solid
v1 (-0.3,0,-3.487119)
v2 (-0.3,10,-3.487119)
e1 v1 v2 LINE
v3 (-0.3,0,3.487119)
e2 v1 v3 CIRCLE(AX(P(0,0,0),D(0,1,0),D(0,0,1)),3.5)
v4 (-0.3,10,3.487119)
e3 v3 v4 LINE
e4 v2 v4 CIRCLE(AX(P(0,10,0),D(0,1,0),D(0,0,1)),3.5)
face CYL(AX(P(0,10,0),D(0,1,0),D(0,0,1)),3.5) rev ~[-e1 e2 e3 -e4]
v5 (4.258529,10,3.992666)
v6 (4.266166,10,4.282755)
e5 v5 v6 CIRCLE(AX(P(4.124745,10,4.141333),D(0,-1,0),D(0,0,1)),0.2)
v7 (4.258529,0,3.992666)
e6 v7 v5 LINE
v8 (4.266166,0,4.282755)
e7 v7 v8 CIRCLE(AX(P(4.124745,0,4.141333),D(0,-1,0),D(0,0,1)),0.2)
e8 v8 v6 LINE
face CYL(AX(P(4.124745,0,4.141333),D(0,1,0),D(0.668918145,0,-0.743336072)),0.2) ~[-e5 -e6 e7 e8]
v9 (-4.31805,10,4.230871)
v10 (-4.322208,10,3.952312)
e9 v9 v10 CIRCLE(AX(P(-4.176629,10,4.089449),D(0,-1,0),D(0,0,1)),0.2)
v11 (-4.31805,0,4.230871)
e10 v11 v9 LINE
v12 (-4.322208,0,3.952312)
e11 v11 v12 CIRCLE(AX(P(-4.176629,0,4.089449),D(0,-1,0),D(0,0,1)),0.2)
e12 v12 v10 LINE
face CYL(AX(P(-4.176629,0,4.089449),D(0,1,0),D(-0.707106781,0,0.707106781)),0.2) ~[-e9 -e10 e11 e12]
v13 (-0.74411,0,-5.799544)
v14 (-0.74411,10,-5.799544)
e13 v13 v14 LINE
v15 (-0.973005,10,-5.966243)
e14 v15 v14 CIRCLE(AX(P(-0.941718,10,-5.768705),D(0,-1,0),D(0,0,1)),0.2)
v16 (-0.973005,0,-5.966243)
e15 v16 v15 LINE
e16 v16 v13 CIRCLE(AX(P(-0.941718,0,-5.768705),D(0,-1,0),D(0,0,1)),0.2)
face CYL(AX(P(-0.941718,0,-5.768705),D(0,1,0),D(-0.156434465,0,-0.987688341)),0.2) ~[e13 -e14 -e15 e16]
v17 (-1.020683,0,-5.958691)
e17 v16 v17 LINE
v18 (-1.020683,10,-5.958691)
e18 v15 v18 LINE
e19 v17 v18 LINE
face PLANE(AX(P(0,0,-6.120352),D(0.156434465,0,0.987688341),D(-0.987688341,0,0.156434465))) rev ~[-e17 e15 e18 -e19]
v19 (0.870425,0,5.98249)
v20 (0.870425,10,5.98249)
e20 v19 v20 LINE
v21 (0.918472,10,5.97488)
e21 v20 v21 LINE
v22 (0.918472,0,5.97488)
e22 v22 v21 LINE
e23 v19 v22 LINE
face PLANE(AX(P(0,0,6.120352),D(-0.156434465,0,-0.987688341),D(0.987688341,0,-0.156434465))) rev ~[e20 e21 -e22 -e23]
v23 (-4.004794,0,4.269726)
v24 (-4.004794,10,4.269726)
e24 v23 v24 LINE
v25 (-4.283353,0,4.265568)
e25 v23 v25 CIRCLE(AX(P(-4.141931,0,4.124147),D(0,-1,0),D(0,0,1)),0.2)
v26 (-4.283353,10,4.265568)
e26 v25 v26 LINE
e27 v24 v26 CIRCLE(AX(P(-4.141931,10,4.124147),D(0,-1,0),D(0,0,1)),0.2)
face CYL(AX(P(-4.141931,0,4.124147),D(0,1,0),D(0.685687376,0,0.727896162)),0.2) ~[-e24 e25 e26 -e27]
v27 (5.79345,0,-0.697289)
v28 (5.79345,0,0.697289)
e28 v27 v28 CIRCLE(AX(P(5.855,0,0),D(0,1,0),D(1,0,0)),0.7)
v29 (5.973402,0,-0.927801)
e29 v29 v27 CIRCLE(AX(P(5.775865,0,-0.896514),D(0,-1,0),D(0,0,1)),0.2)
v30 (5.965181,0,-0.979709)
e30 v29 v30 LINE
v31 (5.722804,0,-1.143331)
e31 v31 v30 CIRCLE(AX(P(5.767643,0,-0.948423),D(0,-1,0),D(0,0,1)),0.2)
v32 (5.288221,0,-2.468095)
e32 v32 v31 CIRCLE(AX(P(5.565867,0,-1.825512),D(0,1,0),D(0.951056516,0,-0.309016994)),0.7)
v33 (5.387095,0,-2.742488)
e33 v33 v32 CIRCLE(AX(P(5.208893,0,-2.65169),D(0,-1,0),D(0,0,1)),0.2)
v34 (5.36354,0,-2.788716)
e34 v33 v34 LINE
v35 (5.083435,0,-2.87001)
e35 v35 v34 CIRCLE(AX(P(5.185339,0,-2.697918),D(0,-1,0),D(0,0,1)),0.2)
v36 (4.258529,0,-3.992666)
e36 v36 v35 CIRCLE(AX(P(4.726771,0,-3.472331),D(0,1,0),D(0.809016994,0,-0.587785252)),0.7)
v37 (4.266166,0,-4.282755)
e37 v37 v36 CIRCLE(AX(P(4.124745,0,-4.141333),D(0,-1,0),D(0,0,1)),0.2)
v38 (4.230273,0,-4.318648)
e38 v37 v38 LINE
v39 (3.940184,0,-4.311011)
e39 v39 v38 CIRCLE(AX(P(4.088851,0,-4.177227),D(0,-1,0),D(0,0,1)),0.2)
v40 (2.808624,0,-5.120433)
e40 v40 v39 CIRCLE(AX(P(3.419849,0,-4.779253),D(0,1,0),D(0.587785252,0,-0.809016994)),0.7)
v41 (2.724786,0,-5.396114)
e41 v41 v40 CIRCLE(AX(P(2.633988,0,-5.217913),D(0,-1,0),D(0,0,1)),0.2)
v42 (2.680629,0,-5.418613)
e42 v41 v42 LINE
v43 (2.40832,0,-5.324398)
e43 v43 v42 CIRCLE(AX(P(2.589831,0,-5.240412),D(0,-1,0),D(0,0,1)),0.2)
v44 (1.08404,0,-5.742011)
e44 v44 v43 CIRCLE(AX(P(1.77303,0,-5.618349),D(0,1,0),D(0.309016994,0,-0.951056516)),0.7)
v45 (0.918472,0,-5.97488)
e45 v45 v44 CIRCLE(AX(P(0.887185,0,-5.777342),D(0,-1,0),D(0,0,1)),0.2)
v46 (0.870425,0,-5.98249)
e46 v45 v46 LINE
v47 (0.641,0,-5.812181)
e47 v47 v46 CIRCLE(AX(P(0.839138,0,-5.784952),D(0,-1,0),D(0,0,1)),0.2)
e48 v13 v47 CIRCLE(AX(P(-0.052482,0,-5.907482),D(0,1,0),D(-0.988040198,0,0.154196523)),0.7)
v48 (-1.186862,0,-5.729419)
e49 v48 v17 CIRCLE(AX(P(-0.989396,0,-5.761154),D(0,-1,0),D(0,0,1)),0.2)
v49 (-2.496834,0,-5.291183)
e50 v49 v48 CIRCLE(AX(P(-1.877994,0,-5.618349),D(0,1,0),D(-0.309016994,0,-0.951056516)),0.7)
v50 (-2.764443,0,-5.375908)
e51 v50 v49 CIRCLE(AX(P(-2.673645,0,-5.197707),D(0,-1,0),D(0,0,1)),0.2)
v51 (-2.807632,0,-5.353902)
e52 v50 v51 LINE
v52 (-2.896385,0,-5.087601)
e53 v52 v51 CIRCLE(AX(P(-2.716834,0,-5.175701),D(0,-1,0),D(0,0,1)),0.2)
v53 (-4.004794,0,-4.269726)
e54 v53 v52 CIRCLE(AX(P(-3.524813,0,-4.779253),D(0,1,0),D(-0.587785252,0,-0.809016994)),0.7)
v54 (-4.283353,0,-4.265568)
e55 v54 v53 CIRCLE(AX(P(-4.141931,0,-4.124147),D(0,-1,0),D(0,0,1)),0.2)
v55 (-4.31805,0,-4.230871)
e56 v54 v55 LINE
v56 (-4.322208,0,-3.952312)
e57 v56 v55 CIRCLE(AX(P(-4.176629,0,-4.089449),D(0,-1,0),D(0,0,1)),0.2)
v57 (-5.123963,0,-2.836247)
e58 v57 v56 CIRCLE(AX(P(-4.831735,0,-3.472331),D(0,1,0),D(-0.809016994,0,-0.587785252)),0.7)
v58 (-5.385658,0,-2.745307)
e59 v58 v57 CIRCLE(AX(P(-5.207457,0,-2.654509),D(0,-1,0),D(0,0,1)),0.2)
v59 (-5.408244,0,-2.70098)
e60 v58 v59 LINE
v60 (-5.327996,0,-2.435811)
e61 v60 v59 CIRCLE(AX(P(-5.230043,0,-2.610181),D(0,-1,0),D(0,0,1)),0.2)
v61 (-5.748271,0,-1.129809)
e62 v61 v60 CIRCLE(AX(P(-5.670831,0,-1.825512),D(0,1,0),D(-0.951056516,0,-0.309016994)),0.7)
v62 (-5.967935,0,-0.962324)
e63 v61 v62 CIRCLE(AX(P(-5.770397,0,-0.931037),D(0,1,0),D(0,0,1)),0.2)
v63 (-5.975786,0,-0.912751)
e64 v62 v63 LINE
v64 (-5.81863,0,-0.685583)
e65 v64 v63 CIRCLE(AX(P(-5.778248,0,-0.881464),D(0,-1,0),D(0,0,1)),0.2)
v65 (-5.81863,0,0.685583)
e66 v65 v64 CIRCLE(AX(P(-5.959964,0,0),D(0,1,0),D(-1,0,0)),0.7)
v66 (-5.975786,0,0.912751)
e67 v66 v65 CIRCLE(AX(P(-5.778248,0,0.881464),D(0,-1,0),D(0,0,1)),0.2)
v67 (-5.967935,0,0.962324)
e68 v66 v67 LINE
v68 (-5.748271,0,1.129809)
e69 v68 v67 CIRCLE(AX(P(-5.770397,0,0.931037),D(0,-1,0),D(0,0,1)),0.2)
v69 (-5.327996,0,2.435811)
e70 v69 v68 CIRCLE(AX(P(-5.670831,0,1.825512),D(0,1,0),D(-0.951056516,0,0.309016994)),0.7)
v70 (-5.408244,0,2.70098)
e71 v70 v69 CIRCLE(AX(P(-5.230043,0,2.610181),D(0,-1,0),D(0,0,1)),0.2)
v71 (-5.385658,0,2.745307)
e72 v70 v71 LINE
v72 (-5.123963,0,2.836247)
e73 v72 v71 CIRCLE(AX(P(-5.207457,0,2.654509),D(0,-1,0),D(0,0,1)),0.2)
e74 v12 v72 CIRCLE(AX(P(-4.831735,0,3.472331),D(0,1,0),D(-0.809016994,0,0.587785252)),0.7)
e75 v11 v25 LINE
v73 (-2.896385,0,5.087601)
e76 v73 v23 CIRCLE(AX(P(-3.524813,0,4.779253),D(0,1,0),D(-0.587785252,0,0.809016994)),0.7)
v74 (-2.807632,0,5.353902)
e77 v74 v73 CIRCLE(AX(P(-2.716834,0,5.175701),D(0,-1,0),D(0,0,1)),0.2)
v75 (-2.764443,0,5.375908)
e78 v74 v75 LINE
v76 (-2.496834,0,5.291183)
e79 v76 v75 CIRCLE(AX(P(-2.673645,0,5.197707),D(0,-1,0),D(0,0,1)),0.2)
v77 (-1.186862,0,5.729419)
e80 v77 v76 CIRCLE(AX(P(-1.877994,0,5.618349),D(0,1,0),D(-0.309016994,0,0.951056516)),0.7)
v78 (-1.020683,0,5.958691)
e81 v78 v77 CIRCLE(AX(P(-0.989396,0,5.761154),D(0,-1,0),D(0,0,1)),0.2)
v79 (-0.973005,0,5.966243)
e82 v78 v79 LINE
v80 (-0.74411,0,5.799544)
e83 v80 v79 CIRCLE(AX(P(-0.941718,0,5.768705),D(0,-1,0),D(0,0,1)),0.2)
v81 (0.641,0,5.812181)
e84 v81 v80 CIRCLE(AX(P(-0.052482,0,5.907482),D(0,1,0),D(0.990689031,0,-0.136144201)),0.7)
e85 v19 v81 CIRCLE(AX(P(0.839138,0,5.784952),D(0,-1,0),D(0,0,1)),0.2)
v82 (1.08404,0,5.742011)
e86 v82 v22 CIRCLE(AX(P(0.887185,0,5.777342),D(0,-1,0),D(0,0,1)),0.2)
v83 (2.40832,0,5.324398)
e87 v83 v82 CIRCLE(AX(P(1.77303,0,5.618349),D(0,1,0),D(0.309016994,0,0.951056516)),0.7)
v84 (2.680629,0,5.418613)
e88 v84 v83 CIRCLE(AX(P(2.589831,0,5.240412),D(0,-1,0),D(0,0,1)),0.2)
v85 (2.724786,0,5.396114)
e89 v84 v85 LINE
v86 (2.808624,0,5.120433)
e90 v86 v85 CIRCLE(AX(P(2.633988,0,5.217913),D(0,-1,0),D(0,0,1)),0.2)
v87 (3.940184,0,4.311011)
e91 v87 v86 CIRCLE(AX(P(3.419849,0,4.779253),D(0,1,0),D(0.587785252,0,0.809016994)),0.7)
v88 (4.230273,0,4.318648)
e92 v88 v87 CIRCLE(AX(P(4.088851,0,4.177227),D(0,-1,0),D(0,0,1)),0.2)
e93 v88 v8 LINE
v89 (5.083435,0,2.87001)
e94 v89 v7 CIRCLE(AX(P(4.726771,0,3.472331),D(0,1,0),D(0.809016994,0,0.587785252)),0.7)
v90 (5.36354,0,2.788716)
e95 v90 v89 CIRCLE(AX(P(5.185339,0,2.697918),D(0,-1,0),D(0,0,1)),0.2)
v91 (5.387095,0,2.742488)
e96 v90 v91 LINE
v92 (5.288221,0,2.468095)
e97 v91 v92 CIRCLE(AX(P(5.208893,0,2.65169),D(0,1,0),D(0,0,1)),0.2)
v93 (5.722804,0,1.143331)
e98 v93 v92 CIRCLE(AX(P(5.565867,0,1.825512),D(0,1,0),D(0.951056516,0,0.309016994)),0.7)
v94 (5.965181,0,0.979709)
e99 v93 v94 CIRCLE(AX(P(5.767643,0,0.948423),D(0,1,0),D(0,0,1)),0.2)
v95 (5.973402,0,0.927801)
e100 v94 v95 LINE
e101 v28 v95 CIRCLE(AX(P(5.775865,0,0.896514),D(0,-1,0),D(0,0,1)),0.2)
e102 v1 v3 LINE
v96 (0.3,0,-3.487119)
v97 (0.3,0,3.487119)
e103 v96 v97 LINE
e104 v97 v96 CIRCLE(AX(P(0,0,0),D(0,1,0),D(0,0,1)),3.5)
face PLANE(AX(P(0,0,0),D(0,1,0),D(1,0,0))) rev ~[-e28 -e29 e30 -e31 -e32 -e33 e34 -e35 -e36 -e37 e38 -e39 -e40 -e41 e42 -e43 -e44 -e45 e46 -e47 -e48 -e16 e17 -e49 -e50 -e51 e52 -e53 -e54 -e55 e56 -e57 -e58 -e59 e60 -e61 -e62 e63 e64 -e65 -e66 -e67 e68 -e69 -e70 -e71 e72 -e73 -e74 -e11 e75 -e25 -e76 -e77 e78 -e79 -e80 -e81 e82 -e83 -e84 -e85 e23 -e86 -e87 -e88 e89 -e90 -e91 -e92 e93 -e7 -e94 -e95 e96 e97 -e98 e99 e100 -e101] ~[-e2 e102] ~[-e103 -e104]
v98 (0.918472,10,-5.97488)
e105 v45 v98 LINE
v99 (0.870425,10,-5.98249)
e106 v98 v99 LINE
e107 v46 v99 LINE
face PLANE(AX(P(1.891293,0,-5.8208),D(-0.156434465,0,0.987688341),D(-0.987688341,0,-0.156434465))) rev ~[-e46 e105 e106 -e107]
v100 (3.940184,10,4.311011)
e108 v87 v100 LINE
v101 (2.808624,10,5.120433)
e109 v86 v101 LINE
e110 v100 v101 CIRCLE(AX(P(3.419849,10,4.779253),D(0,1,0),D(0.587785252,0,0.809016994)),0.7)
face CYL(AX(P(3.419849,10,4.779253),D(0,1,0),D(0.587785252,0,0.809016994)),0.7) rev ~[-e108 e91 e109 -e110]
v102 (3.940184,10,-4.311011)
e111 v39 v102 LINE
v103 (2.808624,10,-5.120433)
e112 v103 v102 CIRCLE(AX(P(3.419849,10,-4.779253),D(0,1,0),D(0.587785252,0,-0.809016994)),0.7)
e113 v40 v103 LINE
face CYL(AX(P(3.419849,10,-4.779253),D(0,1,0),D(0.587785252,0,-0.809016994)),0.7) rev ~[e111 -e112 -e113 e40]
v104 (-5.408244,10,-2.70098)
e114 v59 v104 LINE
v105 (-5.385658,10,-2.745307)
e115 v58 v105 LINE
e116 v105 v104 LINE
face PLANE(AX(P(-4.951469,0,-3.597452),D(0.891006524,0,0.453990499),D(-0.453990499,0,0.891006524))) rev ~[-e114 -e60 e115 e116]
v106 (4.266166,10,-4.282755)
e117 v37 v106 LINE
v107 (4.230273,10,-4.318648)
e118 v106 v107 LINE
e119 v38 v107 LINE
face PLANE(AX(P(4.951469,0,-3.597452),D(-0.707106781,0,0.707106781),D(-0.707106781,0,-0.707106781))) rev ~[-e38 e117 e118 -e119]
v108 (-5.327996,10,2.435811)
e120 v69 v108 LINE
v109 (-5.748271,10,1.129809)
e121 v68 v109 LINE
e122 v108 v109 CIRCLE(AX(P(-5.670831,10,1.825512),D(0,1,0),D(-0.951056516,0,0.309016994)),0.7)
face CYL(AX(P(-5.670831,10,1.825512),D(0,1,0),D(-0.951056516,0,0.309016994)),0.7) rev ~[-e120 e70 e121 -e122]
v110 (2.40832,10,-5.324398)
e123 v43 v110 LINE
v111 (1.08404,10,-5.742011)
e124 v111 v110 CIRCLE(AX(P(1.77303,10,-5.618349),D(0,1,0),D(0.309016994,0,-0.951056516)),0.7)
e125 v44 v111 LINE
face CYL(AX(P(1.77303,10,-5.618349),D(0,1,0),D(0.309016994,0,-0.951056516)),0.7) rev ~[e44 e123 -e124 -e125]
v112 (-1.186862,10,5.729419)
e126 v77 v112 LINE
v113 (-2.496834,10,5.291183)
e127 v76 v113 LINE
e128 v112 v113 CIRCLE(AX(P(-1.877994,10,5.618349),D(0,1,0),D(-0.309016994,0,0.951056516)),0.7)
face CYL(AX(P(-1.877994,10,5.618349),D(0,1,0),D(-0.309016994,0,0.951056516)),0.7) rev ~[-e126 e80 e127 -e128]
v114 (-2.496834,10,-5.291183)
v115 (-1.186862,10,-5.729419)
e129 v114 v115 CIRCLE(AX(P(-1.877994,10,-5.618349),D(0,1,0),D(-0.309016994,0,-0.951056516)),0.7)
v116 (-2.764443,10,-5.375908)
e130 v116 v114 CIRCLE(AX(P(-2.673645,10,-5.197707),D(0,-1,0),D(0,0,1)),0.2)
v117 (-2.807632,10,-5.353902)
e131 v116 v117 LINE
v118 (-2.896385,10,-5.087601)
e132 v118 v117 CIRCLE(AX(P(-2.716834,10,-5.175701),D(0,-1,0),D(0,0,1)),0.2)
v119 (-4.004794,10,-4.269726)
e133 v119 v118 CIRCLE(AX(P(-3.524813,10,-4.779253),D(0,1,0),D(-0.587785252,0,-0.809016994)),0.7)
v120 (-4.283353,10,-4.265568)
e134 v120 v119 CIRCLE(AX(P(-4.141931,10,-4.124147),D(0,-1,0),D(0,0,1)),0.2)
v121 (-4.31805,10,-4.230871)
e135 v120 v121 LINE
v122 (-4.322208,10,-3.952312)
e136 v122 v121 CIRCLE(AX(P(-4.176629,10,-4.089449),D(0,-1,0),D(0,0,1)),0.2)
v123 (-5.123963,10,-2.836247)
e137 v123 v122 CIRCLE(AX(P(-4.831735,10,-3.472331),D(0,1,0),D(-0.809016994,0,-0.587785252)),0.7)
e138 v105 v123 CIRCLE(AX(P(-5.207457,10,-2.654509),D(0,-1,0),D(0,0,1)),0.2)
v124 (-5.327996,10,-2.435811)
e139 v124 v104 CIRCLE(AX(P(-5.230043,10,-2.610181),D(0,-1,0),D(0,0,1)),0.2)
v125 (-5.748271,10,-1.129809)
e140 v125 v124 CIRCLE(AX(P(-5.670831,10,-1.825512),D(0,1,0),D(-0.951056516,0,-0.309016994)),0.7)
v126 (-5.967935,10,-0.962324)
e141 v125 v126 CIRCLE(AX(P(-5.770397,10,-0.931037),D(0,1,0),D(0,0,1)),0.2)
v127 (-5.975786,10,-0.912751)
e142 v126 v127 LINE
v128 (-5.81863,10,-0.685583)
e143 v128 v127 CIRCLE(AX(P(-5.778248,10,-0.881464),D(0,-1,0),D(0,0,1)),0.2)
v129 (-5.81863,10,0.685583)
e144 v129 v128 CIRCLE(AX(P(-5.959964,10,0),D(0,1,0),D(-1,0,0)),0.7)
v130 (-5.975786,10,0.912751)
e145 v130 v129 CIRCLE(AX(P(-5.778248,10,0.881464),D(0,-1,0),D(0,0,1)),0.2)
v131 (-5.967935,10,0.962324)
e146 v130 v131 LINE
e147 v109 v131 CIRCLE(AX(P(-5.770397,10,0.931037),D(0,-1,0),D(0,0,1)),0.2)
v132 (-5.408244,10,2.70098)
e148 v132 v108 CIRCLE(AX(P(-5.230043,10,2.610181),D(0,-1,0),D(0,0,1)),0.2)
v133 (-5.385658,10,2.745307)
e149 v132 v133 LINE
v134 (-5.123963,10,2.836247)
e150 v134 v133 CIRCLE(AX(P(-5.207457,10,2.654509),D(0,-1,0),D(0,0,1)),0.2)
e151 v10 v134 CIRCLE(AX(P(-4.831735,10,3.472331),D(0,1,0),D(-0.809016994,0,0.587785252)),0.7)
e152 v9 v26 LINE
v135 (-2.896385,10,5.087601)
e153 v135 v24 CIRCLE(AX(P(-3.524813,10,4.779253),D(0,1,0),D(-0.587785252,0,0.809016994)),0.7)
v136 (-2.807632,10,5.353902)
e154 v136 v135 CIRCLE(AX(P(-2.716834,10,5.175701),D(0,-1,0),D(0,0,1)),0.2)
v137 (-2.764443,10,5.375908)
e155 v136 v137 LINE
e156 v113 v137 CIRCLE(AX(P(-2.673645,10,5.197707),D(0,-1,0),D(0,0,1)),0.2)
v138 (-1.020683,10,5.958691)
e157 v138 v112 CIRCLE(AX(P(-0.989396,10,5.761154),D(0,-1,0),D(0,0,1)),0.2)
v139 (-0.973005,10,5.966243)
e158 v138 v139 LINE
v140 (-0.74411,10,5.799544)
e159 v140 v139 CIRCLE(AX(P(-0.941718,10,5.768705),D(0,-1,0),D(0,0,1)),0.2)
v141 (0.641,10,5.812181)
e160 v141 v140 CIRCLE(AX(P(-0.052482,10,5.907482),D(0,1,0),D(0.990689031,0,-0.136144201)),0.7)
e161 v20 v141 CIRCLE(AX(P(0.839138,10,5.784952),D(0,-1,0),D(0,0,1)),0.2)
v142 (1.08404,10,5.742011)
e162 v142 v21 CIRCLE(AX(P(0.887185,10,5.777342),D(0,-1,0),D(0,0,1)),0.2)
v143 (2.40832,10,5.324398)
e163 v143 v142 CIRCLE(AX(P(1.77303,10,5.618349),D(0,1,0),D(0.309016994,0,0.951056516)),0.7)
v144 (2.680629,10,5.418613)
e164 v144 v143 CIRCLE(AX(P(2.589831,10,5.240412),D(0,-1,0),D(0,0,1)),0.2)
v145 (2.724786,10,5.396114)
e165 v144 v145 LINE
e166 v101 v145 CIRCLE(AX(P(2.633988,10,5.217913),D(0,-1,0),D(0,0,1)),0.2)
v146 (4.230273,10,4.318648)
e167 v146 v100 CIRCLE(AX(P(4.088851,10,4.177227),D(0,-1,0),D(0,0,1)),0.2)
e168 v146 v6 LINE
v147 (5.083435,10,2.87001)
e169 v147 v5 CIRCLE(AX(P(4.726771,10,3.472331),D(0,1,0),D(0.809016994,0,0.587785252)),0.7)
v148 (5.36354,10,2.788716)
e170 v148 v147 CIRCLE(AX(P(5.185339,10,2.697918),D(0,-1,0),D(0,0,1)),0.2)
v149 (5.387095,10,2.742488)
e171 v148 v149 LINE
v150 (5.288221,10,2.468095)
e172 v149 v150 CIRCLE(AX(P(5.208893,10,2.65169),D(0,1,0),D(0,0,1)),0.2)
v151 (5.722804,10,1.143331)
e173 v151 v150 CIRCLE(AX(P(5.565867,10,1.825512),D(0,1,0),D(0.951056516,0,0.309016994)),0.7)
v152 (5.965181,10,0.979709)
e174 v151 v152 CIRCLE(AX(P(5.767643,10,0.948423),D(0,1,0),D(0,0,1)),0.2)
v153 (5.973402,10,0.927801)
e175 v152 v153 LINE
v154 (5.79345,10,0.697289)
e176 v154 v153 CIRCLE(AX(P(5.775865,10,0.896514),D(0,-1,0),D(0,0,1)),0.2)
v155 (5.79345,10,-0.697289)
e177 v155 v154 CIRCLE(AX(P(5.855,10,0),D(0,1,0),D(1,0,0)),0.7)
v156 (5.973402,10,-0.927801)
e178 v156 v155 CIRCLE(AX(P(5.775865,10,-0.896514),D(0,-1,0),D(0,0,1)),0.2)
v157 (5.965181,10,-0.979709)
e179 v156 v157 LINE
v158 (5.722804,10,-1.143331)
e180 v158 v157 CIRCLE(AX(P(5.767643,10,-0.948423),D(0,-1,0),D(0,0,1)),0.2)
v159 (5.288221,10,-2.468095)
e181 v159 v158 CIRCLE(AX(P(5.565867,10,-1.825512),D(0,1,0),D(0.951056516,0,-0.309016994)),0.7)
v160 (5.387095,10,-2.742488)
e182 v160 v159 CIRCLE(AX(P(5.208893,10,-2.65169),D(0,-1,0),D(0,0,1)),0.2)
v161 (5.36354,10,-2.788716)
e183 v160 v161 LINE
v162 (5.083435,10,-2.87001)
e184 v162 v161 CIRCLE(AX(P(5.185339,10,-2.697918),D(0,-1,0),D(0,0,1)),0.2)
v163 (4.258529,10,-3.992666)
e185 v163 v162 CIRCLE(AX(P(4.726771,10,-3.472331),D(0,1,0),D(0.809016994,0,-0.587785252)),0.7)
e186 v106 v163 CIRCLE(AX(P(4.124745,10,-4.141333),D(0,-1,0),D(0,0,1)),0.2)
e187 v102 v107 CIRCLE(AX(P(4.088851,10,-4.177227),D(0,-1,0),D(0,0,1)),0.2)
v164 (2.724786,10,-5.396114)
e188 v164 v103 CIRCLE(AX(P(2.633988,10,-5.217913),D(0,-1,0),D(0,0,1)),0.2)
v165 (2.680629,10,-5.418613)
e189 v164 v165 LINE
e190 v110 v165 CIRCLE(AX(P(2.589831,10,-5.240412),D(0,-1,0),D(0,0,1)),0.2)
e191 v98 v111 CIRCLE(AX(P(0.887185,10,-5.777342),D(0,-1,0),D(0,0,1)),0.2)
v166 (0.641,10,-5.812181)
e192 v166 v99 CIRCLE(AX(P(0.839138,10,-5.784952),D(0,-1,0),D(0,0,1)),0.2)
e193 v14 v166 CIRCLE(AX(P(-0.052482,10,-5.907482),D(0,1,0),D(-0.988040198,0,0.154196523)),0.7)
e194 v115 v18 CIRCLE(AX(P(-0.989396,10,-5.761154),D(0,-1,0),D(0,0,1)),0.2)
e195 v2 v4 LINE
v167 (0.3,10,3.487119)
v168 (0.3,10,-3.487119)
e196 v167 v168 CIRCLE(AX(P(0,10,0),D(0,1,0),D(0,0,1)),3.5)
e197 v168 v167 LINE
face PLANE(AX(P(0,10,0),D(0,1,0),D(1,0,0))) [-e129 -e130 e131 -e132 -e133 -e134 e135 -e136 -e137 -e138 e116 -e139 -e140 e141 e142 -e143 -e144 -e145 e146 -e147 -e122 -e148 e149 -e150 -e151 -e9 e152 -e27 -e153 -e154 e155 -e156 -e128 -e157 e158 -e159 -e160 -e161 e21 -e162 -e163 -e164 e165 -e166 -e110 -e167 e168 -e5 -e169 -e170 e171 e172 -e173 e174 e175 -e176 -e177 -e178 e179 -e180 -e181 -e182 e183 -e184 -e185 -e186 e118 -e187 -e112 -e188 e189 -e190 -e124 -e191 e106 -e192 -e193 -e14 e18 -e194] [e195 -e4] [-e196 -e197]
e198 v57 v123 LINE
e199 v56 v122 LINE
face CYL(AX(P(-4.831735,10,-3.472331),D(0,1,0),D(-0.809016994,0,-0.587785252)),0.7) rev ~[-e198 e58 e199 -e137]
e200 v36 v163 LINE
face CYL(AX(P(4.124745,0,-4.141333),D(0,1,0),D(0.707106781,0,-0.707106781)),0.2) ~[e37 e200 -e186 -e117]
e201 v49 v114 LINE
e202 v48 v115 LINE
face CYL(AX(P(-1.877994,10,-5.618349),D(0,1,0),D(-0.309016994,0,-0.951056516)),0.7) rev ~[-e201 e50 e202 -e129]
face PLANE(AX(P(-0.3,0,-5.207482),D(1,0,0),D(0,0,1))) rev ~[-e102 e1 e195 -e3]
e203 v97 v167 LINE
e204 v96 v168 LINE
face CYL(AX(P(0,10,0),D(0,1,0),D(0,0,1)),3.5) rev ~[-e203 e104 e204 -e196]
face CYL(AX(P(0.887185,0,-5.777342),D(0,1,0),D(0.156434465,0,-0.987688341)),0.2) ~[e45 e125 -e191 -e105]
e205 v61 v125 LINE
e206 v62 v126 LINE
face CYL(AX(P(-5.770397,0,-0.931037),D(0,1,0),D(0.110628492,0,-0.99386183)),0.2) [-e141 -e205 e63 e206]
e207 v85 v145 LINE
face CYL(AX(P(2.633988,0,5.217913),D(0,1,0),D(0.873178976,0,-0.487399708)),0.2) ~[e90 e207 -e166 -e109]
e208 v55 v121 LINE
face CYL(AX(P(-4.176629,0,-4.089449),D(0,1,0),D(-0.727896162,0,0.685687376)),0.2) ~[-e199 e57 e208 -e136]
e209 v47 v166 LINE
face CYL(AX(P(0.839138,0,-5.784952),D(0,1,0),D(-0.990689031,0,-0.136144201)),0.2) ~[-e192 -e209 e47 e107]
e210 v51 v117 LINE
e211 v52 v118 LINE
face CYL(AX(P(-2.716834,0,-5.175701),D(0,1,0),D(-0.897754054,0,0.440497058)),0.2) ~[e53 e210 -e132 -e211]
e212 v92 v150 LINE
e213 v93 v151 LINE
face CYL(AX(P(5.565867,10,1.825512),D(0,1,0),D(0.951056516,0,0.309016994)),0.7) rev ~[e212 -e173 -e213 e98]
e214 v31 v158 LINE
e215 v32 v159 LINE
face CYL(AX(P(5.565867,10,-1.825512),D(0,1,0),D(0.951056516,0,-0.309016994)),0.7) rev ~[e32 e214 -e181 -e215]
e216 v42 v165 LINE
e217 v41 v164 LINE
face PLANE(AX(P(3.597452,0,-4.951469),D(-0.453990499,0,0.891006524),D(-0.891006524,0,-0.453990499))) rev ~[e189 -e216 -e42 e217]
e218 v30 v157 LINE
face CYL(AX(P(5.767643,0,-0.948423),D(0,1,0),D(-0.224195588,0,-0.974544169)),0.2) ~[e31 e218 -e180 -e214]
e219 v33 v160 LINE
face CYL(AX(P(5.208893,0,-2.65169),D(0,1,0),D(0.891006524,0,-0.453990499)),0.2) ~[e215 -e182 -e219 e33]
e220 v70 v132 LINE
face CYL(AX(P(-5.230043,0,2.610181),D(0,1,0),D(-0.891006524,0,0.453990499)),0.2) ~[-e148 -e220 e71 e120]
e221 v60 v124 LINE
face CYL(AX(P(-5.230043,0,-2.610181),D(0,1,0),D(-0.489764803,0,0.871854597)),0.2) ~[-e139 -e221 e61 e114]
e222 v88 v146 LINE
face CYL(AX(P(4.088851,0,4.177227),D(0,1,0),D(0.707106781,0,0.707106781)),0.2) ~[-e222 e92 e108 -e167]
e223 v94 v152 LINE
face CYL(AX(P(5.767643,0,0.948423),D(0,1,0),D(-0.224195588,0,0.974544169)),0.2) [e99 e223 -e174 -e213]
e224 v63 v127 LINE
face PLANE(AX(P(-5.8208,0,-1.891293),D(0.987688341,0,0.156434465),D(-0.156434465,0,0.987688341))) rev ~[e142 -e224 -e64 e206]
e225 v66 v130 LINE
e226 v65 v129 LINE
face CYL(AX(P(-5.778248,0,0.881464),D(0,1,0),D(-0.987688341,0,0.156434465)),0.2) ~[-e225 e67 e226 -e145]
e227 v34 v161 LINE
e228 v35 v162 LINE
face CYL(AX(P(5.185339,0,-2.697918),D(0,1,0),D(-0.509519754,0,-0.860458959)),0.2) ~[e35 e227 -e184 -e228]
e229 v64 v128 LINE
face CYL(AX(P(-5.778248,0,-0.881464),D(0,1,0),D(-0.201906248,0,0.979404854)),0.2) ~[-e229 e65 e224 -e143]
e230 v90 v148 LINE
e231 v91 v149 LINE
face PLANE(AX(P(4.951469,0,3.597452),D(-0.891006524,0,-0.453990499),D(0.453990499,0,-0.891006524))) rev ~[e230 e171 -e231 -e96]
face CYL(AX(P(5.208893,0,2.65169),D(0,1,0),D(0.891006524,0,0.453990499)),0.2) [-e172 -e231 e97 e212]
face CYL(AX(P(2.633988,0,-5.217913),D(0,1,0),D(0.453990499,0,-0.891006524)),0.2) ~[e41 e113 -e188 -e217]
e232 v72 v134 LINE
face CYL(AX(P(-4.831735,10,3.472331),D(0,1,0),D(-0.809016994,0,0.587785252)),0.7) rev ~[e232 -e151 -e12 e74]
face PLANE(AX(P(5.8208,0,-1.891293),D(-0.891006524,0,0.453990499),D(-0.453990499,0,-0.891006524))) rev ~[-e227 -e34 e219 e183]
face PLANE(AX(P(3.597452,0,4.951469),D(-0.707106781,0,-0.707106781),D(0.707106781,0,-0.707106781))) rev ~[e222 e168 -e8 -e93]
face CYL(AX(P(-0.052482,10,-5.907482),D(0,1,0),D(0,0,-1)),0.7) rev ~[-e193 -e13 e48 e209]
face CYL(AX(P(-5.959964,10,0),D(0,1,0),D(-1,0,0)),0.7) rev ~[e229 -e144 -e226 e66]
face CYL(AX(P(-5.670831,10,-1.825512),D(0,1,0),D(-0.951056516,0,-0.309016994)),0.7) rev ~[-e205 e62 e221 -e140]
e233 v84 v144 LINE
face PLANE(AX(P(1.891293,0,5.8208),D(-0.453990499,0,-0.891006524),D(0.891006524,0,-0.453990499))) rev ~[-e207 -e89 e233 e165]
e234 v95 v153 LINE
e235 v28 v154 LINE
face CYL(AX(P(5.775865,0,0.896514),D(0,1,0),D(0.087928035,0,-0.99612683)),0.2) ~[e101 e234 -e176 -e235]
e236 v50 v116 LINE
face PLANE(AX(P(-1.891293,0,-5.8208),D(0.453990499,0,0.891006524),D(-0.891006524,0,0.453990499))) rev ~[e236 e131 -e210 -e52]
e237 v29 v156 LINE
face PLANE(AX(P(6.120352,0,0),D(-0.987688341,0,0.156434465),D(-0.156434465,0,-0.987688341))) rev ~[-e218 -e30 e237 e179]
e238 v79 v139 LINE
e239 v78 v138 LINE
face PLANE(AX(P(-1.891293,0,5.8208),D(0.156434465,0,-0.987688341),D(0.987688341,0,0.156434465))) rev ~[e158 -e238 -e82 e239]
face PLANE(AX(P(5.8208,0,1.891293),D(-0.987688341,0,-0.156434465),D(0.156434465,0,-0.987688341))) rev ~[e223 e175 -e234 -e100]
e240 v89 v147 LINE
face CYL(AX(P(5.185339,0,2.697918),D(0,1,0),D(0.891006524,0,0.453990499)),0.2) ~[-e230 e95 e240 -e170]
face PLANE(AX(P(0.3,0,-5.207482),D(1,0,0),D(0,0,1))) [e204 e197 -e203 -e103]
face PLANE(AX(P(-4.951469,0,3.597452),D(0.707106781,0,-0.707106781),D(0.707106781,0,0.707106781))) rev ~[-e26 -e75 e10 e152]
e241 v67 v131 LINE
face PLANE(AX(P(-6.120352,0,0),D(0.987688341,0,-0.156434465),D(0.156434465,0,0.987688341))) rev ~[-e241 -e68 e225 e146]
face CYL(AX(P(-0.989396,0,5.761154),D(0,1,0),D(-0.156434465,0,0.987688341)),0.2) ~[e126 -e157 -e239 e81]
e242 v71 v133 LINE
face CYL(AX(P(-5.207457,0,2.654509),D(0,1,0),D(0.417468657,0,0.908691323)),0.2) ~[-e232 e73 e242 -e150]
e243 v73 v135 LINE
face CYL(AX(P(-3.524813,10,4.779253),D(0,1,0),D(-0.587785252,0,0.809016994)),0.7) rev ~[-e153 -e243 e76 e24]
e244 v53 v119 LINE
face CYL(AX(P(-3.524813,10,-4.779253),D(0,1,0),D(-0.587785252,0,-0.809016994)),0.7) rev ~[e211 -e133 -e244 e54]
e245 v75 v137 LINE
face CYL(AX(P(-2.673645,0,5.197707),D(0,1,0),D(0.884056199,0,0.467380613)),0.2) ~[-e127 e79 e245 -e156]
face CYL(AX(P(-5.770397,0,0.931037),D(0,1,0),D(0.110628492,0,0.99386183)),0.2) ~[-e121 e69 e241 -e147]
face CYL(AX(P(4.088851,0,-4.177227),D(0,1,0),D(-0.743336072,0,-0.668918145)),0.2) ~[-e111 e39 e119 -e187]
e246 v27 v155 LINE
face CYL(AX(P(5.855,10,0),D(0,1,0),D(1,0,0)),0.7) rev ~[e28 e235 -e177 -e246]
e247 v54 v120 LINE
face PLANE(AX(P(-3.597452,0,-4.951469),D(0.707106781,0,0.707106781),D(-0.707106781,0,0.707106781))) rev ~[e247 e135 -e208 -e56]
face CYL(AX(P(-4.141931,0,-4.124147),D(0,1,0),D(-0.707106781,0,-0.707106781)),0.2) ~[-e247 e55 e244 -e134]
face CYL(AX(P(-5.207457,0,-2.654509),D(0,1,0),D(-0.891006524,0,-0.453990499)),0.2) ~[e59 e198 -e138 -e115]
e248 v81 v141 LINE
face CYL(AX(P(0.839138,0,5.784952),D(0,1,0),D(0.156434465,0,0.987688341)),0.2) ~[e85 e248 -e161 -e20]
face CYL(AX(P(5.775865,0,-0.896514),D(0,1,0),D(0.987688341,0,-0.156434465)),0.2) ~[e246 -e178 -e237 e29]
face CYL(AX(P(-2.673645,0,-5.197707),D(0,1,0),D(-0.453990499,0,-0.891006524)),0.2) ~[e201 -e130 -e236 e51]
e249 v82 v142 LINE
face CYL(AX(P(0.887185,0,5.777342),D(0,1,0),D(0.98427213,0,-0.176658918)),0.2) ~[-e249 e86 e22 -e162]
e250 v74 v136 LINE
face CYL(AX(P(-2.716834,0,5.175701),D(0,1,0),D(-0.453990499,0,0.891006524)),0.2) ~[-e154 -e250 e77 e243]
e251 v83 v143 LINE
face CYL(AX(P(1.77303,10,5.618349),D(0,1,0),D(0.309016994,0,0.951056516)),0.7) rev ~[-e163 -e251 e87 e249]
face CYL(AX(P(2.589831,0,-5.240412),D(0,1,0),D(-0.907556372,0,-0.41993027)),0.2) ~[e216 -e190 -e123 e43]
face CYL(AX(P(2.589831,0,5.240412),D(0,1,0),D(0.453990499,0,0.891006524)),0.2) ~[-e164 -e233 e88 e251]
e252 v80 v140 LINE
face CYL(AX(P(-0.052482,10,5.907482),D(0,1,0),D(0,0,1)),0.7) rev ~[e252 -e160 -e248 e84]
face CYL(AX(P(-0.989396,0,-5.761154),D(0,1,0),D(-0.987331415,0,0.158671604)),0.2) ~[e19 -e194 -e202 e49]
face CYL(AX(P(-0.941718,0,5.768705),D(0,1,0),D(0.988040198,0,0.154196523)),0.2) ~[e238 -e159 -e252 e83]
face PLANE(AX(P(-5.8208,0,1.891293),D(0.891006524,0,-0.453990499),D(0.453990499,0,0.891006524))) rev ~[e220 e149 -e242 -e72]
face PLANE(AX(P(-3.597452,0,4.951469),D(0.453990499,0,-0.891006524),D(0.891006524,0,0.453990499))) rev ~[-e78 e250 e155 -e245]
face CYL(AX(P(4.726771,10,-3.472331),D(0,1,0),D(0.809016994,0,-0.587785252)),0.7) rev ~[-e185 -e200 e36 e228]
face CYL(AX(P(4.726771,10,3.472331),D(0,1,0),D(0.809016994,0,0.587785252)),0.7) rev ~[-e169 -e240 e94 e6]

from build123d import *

# Parameters (mm, degrees)
BOSS_EXTRUDE1_DEPTH = 10
SKETCH2_R           = 0.7
CUT_EXTRUDE1_DEPTH  = 10
CIRPATTERN3_COUNT   = 20
FILLET1_R           = 0.2
CUT_EXTRUDE2_REACH  = 12
SKETCH3_R           = 3.5
SKETCH4_W           = 0.6
SKETCH4_H           = 10.414964042
BOSS_EXTRUDE2_DEPTH = 10


with BuildPart() as part:
    # Sketch1 → Boss-Extrude1 (new body)
    with BuildSketch(Plane(origin=(0, 0, 0), x_dir=(1, 0, 0), z_dir=(0, 1, 0))):
        Polygon((4.951468525, -3.59745246), (5.820800352, -1.891292682), (6.120351685, 0), (5.820800352, 1.891292682), (4.951468525, 3.59745246), (3.59745246, 4.951468525), (1.891292682, 5.820800352), (0, 6.120351685), (-1.891292682, 5.820800352), (-3.59745246, 4.951468525), (-4.951468525, 3.59745246), (-5.820800352, 1.891292682), (-6.120351685, 0), (-5.820800352, -1.891292682), (-4.951468525, -3.59745246), (-3.59745246, -4.951468525), (-1.891292682, -5.820800352), (0, -6.120351685), (1.891292682, -5.820800352), (3.59745246, -4.951468525), align=None)
    extrude(amount=BOSS_EXTRUDE1_DEPTH)

    # Sketch2 → Cut-Extrude1 (cut)
    with BuildSketch(Plane(origin=(0, 10, 0), x_dir=(1, 0, 0), z_dir=(0, 1, 0))):
        with Locations((5.855, 0)):
            Circle(SKETCH2_R)
    cut_extrude1 = extrude(amount=-CUT_EXTRUDE1_DEPTH, mode=Mode.SUBTRACT)

    # CirPattern3: Cut-Extrude1 ×20 about axis
    cirpattern3_axis = Axis((-0.052482021, 0, 0), (0, 1, 0))
    for i in range(1, CIRPATTERN3_COUNT):
        add(cut_extrude1.rotate(cirpattern3_axis, i * 360 / CIRPATTERN3_COUNT), mode=Mode.SUBTRACT)

    # Fillet1
    fillet1_edges = [part.edges().sort_by_distance(p)[0] for p in [
        (4.057798917, 5, -4.491122068),
        (2.93831654, 5, -5.287315051),
        (5.251367741, 5, -3.008867108),
        (4.438640047, 5, -4.110280937),
        (2.467098423, 5, -5.527412673),
        (1.150354408, 5, -5.938153446),
        (0.638542887, 5, -6.019216428),
        (-0.746045616, 5, -6.002189668),
        (-1.247642454, 5, -5.922744534),
        (-2.563808053, 5, -5.478136656),
        (-3.008267267, 5, -5.251673375),
        (-4.126835407, 5, -4.422085577),
        (-4.474567598, 5, -4.074353387),
        (-5.286407893, 5, -2.940096937),
        (-5.507494847, 5, -2.506189359),
        (-5.933957193, 5, -1.176848512),
        (-6.009763498, 5, -0.698226334),
        (-6.009763498, 5, 0.698226334),
        (-5.933957193, 5, 1.176848512),
        (-5.507494847, 5, 2.506189359),
        (-5.286407893, 5, 2.940096937),
        (-4.474567598, 5, 4.074353387),
        (-4.126835407, 5, 4.422085577),
        (-3.008267267, 5, 5.251673375),
        (-2.563808053, 5, 5.478136656),
        (-1.247642454, 5, 5.922744534),
        (-0.746045616, 5, 6.002189668),
        (0.638542887, 5, 6.019216428),
        (1.150354408, 5, 5.938153446),
        (2.467098423, 5, 5.527412673),
        (2.93831654, 5, 5.287315051),
        (4.057798917, 5, 4.491122068),
        (5.251367741, 5, 3.008867108),
        (4.438640047, 5, 4.110280937),
        (5.499267273, 5, 2.522336881),
        (5.926264611, 5, 1.225417561),
        (5.926264611, 5, -1.225417561),
        (5.499267273, 5, -2.522336881),
        (6.012318774, 5, 0.682092958),
        (6.012318774, 5, -0.682092958),
    ]]
    fillet(fillet1_edges, radius=FILLET1_R)

    # Sketch3 → Cut-Extrude2 (cut, up to next)
    with BuildSketch(Plane(origin=(0, 10, 0), x_dir=(1, 0, 0), z_dir=(0, 1, 0)), mode=Mode.PRIVATE) as cut_extrude2_sk1:
        with Locations(Location((0, 0, 0), (0, 0, 270))):  # turned: the seam where the file's is
            Circle(SKETCH3_R)
    cut_extrude2_tool1 = extrude(cut_extrude2_sk1.sketch, amount=-CUT_EXTRUDE2_REACH, mode=Mode.PRIVATE) & part.part
    add(cut_extrude2_tool1.solids().sort_by_distance((0, 10, 0))[0], mode=Mode.SUBTRACT)

    # Sketch4 → Boss-Extrude2 (add)
    with BuildSketch(Plane.XZ):
        Rectangle(SKETCH4_W, SKETCH4_H)
    extrude(amount=-BOSS_EXTRUDE2_DEPTH)


solid = part.part
